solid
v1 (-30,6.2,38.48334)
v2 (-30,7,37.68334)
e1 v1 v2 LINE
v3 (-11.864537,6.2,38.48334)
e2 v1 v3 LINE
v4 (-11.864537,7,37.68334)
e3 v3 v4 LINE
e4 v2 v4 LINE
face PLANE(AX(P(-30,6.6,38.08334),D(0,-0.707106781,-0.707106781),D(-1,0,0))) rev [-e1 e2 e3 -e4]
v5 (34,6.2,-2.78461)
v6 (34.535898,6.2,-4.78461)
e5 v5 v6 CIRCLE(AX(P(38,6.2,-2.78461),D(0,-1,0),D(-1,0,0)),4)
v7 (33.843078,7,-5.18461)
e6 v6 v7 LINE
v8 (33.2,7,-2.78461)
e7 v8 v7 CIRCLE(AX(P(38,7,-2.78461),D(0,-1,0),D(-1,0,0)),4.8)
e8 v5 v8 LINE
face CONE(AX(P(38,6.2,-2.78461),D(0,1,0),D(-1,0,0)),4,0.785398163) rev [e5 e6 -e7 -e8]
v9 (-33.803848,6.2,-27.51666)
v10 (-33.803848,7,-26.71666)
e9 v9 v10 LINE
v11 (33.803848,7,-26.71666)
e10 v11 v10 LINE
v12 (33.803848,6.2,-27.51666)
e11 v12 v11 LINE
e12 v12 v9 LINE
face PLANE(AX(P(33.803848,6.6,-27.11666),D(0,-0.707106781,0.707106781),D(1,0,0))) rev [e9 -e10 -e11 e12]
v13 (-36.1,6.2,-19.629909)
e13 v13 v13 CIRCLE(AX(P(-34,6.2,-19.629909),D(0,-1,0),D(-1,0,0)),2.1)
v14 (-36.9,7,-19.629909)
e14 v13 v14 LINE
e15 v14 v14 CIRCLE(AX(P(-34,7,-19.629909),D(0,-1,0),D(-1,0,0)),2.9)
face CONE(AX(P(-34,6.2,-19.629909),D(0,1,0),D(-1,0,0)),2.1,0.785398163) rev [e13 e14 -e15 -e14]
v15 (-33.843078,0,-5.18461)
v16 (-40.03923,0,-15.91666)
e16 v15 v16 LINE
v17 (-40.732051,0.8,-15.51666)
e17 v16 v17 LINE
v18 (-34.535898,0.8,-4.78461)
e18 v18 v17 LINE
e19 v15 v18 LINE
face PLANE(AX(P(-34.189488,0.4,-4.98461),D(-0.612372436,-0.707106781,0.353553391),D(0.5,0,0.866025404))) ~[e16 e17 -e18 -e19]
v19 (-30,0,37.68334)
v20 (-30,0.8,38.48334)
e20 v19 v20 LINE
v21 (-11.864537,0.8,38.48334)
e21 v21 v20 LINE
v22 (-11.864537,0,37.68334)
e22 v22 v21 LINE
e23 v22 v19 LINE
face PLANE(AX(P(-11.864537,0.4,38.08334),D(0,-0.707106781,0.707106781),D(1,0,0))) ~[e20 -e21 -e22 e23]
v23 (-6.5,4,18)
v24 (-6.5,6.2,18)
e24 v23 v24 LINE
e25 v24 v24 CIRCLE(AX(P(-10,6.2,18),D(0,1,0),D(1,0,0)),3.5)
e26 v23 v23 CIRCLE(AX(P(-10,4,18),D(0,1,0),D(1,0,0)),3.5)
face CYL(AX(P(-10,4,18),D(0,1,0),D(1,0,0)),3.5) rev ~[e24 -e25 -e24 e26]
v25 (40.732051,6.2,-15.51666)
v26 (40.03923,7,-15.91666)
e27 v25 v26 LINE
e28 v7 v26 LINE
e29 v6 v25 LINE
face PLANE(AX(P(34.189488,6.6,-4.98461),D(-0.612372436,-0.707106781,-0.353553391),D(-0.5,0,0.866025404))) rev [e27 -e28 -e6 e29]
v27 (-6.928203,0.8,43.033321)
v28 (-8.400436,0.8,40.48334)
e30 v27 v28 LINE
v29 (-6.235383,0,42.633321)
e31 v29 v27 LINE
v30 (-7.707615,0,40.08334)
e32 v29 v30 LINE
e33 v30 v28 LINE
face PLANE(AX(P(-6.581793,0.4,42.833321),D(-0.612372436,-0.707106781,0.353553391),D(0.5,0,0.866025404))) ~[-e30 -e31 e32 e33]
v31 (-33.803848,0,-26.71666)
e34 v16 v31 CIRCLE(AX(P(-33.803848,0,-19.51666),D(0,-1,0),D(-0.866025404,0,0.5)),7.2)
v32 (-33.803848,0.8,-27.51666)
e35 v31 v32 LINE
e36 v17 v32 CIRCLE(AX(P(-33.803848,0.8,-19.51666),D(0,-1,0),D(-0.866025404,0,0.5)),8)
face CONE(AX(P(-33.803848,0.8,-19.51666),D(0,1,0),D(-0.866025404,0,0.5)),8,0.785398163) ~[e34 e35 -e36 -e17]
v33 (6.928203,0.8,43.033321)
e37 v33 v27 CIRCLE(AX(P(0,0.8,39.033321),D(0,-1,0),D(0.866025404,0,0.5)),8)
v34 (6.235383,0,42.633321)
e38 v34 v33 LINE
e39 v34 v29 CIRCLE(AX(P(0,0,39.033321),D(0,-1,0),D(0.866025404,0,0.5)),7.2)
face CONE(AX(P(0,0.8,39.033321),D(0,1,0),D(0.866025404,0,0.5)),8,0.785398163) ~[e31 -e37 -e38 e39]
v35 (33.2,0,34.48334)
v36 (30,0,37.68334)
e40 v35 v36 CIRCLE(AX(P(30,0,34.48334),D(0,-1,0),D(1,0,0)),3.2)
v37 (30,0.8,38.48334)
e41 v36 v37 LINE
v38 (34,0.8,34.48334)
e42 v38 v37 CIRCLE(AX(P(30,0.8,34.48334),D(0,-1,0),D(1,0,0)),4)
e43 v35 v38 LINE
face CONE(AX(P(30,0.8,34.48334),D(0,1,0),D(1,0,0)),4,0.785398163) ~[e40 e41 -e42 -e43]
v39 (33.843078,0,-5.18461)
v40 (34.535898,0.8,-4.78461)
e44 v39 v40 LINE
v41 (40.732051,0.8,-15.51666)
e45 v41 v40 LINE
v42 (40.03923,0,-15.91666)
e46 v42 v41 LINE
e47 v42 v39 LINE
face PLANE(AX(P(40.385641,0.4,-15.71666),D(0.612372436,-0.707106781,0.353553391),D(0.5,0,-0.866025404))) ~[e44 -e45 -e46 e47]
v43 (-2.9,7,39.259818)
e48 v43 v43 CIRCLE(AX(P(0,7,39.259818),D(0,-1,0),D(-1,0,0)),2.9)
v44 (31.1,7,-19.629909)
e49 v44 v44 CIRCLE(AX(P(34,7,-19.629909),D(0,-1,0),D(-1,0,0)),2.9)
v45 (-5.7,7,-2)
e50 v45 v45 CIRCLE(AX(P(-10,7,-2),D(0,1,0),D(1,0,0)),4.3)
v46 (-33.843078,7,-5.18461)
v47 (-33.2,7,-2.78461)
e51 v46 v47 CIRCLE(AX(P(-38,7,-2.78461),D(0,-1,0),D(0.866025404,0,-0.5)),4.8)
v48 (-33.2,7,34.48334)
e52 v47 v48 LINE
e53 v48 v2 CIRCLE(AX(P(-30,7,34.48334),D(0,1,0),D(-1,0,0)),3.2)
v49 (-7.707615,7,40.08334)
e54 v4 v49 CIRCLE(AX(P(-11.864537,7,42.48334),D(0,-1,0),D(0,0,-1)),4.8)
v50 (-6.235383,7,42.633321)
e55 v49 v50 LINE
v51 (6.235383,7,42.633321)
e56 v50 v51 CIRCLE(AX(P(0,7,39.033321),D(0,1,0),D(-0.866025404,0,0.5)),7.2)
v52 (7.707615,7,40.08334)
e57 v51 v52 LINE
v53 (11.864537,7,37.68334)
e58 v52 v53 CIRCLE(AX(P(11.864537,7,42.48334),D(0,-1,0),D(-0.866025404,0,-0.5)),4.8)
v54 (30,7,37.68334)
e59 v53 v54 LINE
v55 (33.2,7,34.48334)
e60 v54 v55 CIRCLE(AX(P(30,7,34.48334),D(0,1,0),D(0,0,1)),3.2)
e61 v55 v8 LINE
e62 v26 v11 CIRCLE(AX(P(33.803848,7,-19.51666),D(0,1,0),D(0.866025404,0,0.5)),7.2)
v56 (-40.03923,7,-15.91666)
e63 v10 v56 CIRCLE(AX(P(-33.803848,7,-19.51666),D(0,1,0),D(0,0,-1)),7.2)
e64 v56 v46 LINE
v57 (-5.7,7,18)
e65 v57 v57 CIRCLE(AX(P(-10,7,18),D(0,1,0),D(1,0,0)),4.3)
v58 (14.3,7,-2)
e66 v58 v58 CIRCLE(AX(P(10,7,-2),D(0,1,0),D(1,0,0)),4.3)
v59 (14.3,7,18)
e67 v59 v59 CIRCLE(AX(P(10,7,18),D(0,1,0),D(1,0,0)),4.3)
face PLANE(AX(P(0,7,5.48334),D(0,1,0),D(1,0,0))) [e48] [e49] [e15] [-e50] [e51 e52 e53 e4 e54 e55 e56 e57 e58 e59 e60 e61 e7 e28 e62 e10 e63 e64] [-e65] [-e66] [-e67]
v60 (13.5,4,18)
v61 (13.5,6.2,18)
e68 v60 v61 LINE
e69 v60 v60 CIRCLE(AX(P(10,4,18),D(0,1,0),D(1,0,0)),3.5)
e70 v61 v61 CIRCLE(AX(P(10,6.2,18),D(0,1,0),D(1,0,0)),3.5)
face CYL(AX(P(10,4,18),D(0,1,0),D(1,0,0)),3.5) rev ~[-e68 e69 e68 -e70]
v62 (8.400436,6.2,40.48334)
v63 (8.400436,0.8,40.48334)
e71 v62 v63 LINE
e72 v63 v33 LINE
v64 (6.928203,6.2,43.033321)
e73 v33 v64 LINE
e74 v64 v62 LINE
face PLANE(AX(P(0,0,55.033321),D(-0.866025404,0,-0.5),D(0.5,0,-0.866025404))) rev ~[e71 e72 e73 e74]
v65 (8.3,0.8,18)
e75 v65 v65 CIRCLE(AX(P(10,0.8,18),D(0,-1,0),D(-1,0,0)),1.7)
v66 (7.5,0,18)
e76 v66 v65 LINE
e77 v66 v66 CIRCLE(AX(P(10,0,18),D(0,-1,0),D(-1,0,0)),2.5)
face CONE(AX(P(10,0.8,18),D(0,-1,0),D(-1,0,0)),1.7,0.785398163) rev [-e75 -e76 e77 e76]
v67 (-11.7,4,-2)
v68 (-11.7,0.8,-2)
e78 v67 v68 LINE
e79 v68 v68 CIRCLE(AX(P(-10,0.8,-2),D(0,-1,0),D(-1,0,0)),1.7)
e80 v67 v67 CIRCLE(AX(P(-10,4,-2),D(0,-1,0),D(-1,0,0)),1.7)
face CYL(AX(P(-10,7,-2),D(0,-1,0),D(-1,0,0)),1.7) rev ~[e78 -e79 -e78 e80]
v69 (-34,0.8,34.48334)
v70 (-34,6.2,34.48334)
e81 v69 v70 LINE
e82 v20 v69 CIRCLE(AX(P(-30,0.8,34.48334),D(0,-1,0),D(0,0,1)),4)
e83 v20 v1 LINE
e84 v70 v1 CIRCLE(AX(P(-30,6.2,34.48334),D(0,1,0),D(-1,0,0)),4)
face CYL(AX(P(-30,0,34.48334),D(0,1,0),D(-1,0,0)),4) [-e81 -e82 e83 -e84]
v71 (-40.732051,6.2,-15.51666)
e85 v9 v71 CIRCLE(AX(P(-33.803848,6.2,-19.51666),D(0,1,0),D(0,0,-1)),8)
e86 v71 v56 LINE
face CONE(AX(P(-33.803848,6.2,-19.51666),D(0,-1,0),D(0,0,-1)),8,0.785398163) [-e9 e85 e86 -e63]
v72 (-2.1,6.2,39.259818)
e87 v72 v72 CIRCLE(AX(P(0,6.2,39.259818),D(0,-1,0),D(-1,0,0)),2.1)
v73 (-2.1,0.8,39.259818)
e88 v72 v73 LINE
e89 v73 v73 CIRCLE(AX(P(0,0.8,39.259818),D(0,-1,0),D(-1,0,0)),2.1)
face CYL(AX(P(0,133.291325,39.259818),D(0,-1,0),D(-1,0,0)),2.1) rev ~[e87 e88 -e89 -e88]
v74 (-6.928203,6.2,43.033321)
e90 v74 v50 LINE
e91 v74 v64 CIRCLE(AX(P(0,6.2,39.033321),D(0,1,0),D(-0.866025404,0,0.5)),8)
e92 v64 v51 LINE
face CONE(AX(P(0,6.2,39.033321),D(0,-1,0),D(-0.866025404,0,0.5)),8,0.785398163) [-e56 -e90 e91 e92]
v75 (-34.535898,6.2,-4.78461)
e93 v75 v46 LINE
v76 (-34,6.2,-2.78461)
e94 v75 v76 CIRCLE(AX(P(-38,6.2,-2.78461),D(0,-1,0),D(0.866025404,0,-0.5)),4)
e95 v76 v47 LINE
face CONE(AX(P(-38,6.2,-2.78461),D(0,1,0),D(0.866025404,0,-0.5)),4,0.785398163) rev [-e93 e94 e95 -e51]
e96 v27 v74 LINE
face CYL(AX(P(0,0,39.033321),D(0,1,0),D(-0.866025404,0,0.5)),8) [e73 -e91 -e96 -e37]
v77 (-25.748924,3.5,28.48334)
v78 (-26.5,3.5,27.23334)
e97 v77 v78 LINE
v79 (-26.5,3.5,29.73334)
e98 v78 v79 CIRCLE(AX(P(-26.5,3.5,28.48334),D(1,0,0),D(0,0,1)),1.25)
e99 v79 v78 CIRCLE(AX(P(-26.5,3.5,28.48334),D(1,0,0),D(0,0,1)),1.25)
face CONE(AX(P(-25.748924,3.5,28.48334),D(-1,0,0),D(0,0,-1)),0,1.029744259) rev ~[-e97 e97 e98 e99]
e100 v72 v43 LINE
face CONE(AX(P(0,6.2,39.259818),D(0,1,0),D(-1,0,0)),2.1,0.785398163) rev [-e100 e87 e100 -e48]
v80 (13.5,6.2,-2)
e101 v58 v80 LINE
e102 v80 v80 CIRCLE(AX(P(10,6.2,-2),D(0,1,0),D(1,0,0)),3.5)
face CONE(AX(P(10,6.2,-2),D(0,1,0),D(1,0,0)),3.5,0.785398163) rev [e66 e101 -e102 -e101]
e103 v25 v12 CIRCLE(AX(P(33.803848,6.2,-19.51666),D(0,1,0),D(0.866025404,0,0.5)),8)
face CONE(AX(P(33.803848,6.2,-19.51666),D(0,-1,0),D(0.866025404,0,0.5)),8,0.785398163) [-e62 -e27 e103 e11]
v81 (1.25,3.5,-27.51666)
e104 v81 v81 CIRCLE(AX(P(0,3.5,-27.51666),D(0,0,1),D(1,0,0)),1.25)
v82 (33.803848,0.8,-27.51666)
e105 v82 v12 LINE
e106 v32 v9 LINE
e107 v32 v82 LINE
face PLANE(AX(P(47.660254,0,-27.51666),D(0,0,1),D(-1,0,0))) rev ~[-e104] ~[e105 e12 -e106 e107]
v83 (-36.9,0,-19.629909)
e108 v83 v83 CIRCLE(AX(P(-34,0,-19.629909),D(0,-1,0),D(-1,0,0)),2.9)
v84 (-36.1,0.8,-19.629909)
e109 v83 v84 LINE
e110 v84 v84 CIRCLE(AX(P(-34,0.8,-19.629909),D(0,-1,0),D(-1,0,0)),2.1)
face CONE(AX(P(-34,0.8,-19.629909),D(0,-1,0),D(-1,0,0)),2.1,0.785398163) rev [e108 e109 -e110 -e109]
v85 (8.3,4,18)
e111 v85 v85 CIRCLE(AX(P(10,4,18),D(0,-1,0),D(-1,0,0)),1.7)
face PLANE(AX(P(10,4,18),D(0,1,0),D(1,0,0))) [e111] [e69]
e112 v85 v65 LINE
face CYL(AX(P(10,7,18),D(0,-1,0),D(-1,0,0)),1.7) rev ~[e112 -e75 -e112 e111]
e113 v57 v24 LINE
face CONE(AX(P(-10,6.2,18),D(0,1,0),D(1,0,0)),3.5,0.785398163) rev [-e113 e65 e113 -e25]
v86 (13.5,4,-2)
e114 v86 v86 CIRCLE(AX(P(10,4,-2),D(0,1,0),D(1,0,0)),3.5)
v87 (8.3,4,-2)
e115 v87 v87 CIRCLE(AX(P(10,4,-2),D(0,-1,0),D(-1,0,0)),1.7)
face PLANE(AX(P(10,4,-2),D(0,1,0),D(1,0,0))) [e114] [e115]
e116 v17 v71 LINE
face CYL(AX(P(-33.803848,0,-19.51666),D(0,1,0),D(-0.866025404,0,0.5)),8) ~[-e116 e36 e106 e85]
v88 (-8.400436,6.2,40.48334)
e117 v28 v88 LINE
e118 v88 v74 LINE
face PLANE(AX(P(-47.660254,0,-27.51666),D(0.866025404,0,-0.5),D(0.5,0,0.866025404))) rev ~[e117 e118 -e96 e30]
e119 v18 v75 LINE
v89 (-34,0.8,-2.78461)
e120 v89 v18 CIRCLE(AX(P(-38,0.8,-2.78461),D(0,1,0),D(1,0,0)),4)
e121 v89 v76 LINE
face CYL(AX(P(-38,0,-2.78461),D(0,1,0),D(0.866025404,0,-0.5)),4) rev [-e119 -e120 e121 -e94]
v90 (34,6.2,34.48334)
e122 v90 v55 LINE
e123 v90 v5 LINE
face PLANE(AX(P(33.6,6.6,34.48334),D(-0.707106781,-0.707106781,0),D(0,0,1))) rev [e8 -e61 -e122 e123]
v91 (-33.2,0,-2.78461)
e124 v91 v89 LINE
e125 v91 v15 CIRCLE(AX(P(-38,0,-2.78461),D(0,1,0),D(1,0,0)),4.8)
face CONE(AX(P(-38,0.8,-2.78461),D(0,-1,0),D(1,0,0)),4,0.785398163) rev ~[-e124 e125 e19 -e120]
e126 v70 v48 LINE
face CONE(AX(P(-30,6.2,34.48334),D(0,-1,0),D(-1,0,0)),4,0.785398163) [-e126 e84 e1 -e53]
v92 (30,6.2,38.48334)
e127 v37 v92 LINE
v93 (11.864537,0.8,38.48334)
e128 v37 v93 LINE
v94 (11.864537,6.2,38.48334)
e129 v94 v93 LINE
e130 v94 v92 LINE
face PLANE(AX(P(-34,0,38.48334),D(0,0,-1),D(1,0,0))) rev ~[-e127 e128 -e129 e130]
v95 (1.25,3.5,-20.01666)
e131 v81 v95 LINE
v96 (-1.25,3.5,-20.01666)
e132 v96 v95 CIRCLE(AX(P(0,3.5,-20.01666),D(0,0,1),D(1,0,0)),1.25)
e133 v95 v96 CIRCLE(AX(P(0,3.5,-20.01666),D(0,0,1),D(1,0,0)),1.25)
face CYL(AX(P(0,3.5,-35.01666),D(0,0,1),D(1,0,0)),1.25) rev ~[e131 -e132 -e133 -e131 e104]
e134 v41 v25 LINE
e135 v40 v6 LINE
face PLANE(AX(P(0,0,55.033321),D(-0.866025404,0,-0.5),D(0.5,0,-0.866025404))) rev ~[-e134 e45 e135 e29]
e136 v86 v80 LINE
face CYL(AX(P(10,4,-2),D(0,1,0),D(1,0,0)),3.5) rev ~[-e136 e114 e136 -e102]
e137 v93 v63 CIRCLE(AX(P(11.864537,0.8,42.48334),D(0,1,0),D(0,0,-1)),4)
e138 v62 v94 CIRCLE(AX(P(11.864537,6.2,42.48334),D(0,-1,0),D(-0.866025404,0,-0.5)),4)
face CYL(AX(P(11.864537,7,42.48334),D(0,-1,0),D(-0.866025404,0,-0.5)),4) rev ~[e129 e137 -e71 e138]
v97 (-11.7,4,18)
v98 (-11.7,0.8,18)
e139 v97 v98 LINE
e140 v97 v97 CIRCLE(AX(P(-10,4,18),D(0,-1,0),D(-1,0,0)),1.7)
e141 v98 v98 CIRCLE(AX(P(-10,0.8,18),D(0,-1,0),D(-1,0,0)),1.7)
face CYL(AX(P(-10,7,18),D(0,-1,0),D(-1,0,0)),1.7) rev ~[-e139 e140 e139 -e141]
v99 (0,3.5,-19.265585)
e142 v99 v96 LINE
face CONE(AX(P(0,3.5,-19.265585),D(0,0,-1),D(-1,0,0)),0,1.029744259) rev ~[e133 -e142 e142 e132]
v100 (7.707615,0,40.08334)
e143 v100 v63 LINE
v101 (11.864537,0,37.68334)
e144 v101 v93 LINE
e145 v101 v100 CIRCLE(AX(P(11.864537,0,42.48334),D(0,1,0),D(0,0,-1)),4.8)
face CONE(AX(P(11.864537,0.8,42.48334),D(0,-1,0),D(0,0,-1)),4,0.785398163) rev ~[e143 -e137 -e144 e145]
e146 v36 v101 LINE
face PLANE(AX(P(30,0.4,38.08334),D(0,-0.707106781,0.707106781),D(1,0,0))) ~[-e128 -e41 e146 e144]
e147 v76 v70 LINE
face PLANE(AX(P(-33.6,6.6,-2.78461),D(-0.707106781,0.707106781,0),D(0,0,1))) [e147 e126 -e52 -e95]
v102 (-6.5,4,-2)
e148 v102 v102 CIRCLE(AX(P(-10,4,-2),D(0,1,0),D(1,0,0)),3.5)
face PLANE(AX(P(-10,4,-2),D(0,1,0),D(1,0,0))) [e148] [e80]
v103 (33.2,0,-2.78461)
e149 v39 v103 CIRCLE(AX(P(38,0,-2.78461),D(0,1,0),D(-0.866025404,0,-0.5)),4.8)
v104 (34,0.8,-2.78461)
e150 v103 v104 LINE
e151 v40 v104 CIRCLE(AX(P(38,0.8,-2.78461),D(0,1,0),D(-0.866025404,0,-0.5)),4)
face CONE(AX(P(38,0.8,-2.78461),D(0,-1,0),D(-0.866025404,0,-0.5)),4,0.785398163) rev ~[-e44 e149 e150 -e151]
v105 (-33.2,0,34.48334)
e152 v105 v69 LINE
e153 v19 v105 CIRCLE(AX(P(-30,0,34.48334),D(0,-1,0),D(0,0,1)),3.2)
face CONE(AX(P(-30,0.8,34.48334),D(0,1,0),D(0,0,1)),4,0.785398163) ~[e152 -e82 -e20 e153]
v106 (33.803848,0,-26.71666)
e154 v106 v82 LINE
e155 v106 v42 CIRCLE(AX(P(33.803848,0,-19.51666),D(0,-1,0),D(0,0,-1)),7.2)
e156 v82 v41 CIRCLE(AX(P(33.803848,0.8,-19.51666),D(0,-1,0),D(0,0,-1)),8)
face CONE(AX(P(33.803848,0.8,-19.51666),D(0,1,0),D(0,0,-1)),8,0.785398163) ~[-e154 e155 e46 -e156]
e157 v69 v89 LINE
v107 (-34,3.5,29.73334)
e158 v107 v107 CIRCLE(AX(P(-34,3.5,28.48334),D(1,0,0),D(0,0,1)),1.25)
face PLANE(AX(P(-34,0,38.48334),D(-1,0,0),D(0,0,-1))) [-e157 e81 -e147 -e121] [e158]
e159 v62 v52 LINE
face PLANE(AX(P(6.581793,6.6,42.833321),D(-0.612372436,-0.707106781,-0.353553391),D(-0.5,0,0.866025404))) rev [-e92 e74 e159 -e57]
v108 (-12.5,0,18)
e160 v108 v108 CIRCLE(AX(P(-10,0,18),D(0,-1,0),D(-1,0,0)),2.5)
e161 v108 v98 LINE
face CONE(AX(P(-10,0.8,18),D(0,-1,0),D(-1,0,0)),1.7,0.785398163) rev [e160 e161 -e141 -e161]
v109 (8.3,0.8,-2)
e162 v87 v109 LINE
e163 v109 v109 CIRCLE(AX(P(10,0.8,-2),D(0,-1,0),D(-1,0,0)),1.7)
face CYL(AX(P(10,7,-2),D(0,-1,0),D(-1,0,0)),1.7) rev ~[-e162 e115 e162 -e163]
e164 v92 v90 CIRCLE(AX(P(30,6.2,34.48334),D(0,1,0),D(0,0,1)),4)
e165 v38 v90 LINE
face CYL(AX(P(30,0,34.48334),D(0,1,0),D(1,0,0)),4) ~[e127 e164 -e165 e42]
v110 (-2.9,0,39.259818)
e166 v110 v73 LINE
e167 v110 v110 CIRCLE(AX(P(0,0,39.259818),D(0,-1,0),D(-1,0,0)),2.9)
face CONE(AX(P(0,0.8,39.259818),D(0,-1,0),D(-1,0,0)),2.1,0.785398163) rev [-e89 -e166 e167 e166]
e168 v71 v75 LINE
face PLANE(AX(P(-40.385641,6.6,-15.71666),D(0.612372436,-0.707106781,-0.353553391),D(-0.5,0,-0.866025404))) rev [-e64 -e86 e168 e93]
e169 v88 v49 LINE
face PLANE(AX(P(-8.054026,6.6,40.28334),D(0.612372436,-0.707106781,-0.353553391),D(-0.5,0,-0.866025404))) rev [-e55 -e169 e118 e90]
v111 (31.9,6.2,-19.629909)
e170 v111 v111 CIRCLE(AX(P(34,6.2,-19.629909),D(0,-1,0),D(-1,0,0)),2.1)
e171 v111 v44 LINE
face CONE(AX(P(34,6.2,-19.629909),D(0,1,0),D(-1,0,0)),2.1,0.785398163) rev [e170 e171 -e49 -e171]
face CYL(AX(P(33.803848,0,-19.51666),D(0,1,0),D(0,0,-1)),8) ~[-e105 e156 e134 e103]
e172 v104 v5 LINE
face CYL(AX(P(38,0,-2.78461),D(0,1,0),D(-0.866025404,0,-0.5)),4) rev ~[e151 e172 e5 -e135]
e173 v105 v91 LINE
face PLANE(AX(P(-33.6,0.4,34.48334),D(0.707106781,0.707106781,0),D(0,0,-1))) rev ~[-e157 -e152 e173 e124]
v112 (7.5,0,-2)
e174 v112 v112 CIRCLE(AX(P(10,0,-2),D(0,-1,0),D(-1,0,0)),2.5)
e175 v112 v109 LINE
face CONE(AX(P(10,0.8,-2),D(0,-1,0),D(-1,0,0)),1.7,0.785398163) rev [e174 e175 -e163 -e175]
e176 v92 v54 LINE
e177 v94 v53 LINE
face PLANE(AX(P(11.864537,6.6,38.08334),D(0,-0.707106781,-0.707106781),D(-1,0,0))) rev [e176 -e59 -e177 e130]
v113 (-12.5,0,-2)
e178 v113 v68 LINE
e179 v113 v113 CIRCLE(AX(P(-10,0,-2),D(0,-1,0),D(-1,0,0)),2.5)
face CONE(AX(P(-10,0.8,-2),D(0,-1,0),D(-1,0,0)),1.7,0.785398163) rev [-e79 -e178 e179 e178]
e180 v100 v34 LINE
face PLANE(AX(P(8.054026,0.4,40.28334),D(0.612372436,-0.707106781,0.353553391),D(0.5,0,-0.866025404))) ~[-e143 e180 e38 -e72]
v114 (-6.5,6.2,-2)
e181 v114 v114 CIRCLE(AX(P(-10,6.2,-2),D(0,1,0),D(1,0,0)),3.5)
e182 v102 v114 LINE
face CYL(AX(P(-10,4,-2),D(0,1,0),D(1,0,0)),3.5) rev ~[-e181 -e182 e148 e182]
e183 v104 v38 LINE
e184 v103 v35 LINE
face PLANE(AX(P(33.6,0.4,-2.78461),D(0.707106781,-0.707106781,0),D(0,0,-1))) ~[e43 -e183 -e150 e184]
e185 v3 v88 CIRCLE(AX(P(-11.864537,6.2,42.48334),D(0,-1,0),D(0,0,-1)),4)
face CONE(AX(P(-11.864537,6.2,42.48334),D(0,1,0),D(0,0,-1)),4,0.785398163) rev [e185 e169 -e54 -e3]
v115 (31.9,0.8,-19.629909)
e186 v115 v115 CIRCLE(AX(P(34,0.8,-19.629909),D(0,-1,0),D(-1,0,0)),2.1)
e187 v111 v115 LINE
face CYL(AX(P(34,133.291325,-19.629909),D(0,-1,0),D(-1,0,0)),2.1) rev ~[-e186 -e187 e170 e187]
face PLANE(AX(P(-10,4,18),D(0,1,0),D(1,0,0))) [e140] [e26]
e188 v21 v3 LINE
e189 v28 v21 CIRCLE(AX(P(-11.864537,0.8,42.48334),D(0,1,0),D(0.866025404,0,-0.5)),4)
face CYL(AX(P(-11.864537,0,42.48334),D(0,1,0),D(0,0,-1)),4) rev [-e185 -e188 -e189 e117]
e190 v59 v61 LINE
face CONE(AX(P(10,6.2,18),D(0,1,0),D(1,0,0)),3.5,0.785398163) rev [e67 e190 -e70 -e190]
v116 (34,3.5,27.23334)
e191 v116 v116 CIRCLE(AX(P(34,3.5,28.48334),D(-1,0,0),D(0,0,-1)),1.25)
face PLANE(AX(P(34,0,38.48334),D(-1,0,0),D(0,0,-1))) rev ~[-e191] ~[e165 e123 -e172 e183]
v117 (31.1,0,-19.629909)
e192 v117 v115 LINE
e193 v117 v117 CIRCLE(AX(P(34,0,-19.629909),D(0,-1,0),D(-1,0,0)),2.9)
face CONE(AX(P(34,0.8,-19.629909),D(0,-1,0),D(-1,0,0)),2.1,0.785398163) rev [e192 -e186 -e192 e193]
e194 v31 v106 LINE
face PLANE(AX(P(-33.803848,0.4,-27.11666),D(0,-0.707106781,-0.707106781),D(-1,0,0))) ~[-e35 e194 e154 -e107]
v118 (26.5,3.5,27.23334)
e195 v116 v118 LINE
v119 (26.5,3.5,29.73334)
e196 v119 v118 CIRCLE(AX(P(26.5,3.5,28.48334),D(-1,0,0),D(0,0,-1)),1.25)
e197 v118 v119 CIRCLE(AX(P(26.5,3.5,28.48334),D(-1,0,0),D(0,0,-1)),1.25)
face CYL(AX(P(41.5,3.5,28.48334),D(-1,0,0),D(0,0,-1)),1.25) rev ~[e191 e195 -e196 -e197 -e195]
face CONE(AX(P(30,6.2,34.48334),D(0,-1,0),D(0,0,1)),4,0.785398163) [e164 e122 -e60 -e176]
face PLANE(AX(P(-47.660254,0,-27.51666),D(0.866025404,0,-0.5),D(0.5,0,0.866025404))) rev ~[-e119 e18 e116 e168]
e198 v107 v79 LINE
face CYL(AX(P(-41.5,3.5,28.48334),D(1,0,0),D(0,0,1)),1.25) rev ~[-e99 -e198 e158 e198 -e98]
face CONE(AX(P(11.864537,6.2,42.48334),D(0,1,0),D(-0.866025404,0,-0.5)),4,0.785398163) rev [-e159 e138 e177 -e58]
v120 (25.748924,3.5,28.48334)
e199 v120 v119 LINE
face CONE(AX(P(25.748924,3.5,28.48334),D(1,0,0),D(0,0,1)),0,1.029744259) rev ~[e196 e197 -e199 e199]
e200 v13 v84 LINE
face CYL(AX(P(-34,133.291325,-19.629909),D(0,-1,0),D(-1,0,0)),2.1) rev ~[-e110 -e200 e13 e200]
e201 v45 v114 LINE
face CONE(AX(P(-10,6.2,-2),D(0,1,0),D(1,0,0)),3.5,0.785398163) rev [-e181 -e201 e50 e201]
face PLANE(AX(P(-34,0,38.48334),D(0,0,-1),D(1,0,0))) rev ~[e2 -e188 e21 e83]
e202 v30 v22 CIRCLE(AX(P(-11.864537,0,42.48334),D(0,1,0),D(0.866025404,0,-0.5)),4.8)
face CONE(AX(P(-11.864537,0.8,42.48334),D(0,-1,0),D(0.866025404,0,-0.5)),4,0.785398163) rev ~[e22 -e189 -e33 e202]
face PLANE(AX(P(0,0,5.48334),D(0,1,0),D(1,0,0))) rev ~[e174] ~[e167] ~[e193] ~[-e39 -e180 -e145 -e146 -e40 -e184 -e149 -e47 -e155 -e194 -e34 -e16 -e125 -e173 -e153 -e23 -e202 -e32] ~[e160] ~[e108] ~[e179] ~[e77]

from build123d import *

# Parameters (mm, degrees)
BOSS_EXTRUDE1_DEPTH                 = 7
SKETCH3_W                           = 68
SKETCH3_H                           = 66
BOSS_EXTRUDE2_DEPTH                 = 7
SKETCH5_R                           = 1
HOLE_POSITIONS_DEPTH                = 74.137994469
M5X0_8_TAPPED_HOLE1_D               = 4.2
CBORE_FOR_M3_SHCS1_D                = 3.4
CBORE_FOR_M3_SHCS1_CBORE_D          = 7
CBORE_FOR_M3_SHCS1_CBORE_DEPTH      = 3
FILLET1_R                           = 8
FILLET2_R                           = 4
M3X0_5_TAPPED_HOLE1_D               = 2.5
M3X0_5_TAPPED_HOLE1_DEPTH           = 7.5
M3X0_5_TAPPED_HOLE1_TIP             = 0.751075774
M3X0_5_TAPPED_HOLE1_ON_FACE_2_D     = 2.5
M3X0_5_TAPPED_HOLE1_ON_FACE_2_DEPTH = 7.5
M3X0_5_TAPPED_HOLE1_ON_FACE_2_TIP   = 0.751075774
M3X0_5_TAPPED_HOLE1_ON_FACE_3_D     = 2.5
M3X0_5_TAPPED_HOLE1_ON_FACE_3_DEPTH = 7.5
M3X0_5_TAPPED_HOLE1_ON_FACE_3_TIP   = 0.751075774
CHAMFER1_SIZE                       = 0.8


with BuildPart() as part:
    # Sketch1 → Boss-Extrude1 (new body)
    with BuildSketch(Plane(origin=(0, 0, 0), x_dir=(1, 0, 0), z_dir=(0, 1, 0))):
        Polygon((0, -55.033320997), (47.660254038, 27.516660498), (-47.660254038, 27.516660498), align=None)
    extrude(amount=BOSS_EXTRUDE1_DEPTH)

    # Sketch3 → Boss-Extrude2 (add)
    with BuildSketch(Plane(origin=(0, 0, 0), x_dir=(1, 0, 0), z_dir=(0, 1, 0))):
        with Locations((0, -5.483339502)):
            Rectangle(SKETCH3_W, SKETCH3_H)
    extrude(amount=BOSS_EXTRUDE2_DEPTH)

    # Sketch5 → Hole Positions (cut, through all)
    with BuildSketch(Plane(origin=(0, 7, 0), x_dir=(1, 0, 0), z_dir=(0, 1, 0))):
        with Locations(Location((-34, 19.629909152, 0), (0, 0, 270))):
            Circle(SKETCH5_R)
        with Locations(Location((34, 19.629909152, 0), (0, 0, 270))):
            Circle(SKETCH5_R)
        with Locations(Location((0, -39.259818305, 0), (0, 0, 270))):
            Circle(SKETCH5_R)
    extrude(amount=-HOLE_POSITIONS_DEPTH, mode=Mode.SUBTRACT)

    # M5x0.8 Tapped Hole1 (through all)
    with Locations(Plane(origin=(0, 7, 0), x_dir=(1, 0, 0), z_dir=(0, 1, 0))):
        with Locations((-34, 19.629909152), (34, 19.629909152), (0, -39.259818305)):
            Hole(M5X0_8_TAPPED_HOLE1_D / 2)

    # CBORE for M3 SHCS1 (through all)
    with Locations(Plane(origin=(0, 7, 0), x_dir=(1, 0, 0), z_dir=(0, 1, 0))):
        with Locations((-10, 2), (10, 2), (10, -18), (-10, -18)):
            CounterBoreHole(CBORE_FOR_M3_SHCS1_D / 2, CBORE_FOR_M3_SHCS1_CBORE_D / 2, CBORE_FOR_M3_SHCS1_CBORE_DEPTH)

    # Fillet1
    fillet1_edges = [part.edges().sort_by_distance(p)[0] for p in [
        (-47.660254038, 3.5, -27.516660498),
        (47.660254038, 3.5, -27.516660498),
        (0, 3.5, 55.033320997),
    ]]
    fillet(fillet1_edges, radius=FILLET1_R)

    # Fillet2
    fillet2_edges = [part.edges().sort_by_distance(p)[0] for p in [
        (34, 3.5, -3.856406461),
        (34, 3.5, 38.483339502),
        (-34, 3.5, -3.856406461),
        (-9.555136271, 3.5, 38.483339502),
        (-34, 3.5, 38.483339502),
        (9.555136271, 3.5, 38.483339502),
    ]]
    fillet(fillet2_edges, radius=FILLET2_R)

    # M3x0.5 Tapped Hole1
    with Locations(Plane(origin=(-34, 3.5, 28.483339502), x_dir=(0, 0, -1), z_dir=(-1, 0, 0))):
        with Locations((0, 0)):
            Hole(M3X0_5_TAPPED_HOLE1_D / 2, depth=M3X0_5_TAPPED_HOLE1_DEPTH)
            with Locations((0, 0, -(M3X0_5_TAPPED_HOLE1_DEPTH + M3X0_5_TAPPED_HOLE1_TIP / 2))):  # 118° drill point
                Cone(0, M3X0_5_TAPPED_HOLE1_D / 2, M3X0_5_TAPPED_HOLE1_TIP, mode=Mode.SUBTRACT)

    # M3x0.5 Tapped Hole1 on face 2
    with Locations(Plane(origin=(34, 3.5, 28.483339502), x_dir=(0, 0, 1), z_dir=(1, 0, 0))):
        with Locations((0, 0)):
            Hole(M3X0_5_TAPPED_HOLE1_ON_FACE_2_D / 2, depth=M3X0_5_TAPPED_HOLE1_ON_FACE_2_DEPTH)
            with Locations((0, 0, -(M3X0_5_TAPPED_HOLE1_ON_FACE_2_DEPTH + M3X0_5_TAPPED_HOLE1_ON_FACE_2_TIP / 2))):  # 118° drill point
                Cone(0, M3X0_5_TAPPED_HOLE1_ON_FACE_2_D / 2, M3X0_5_TAPPED_HOLE1_ON_FACE_2_TIP, mode=Mode.SUBTRACT)

    # M3x0.5 Tapped Hole1 on face 3
    with Locations(Plane(origin=(0, 3.5, -27.516660498), x_dir=(-1, 0, 0), z_dir=(0, 0, -1))):
        with Locations((0, 0)):
            Hole(M3X0_5_TAPPED_HOLE1_ON_FACE_3_D / 2, depth=M3X0_5_TAPPED_HOLE1_ON_FACE_3_DEPTH)
            with Locations((0, 0, -(M3X0_5_TAPPED_HOLE1_ON_FACE_3_DEPTH + M3X0_5_TAPPED_HOLE1_ON_FACE_3_TIP / 2))):  # 118° drill point
                Cone(0, M3X0_5_TAPPED_HOLE1_ON_FACE_3_D / 2, M3X0_5_TAPPED_HOLE1_ON_FACE_3_TIP, mode=Mode.SUBTRACT)

    # Chamfer1
    chamfer1_edges = [part.edges().sort_by_distance(p)[0] for p in [
        (-13.5, 7, -2),
        (-8.3, 0, -2),
        (0, 7, -27.516660498),
        (0, 0, -27.516660498),
        (-37.633974596, 0, -10.150635095),
        (7.664319482, 0, 41.758330249),
        (0, 0, 47.033320997),
        (-40.732050808, 0, -23.516660498),
        (40.732050808, 0, -23.516660498),
        (7.664319482, 7, 41.758330249),
        (-37.633974596, 7, -10.150635095),
        (0, 7, 47.033320997),
        (-40.732050808, 7, -23.516660498),
        (40.732050808, 7, -23.516660498),
        (-34, 7, 15.849364905),
        (-34, 0, 15.849364905),
        (-20.932268674, 0, 38.483339502),
        (-20.932268674, 7, 38.483339502),
        (37.633974596, 0, -10.150635095),
        (34, 0, 15.849364905),
        (20.932268674, 0, 38.483339502),
        (-7.664319482, 0, 41.758330249),
        (32.828427125, 0, 37.311766626),
        (-32.828427125, 0, 37.311766626),
        (37.633974596, 7, -10.150635095),
        (-7.664319482, 7, 41.758330249),
        (20.932268674, 7, 38.483339502),
        (34, 7, 15.849364905),
        (32.828427125, 7, 37.311766626),
        (-32.828427125, 7, 37.311766626),
        (-34.136296695, 0, -3.819885871),
        (-34.136296695, 7, -3.819885871),
        (-9.864537348, 7, 39.019237886),
        (-9.864537348, 0, 39.019237886),
        (9.864537348, 0, 39.019237886),
        (9.864537348, 7, 39.019237886),
        (34.136296695, 7, -3.819885871),
        (34.136296695, 0, -3.819885871),
        (2.1, 7, 39.259818305),
        (2.1, 0, 39.259818305),
        (36.1, 7, -19.629909152),
        (36.1, 0, -19.629909152),
        (-31.9, 7, -19.629909152),
        (-31.9, 0, -19.629909152),
        (-13.5, 7, 18),
        (-8.3, 0, 18),
        (6.5, 7, 18),
        (11.7, 0, 18),
        (6.5, 7, -2),
        (11.7, 0, -2),
    ]]
    chamfer(chamfer1_edges, length=CHAMFER1_SIZE)


solid = part.part
